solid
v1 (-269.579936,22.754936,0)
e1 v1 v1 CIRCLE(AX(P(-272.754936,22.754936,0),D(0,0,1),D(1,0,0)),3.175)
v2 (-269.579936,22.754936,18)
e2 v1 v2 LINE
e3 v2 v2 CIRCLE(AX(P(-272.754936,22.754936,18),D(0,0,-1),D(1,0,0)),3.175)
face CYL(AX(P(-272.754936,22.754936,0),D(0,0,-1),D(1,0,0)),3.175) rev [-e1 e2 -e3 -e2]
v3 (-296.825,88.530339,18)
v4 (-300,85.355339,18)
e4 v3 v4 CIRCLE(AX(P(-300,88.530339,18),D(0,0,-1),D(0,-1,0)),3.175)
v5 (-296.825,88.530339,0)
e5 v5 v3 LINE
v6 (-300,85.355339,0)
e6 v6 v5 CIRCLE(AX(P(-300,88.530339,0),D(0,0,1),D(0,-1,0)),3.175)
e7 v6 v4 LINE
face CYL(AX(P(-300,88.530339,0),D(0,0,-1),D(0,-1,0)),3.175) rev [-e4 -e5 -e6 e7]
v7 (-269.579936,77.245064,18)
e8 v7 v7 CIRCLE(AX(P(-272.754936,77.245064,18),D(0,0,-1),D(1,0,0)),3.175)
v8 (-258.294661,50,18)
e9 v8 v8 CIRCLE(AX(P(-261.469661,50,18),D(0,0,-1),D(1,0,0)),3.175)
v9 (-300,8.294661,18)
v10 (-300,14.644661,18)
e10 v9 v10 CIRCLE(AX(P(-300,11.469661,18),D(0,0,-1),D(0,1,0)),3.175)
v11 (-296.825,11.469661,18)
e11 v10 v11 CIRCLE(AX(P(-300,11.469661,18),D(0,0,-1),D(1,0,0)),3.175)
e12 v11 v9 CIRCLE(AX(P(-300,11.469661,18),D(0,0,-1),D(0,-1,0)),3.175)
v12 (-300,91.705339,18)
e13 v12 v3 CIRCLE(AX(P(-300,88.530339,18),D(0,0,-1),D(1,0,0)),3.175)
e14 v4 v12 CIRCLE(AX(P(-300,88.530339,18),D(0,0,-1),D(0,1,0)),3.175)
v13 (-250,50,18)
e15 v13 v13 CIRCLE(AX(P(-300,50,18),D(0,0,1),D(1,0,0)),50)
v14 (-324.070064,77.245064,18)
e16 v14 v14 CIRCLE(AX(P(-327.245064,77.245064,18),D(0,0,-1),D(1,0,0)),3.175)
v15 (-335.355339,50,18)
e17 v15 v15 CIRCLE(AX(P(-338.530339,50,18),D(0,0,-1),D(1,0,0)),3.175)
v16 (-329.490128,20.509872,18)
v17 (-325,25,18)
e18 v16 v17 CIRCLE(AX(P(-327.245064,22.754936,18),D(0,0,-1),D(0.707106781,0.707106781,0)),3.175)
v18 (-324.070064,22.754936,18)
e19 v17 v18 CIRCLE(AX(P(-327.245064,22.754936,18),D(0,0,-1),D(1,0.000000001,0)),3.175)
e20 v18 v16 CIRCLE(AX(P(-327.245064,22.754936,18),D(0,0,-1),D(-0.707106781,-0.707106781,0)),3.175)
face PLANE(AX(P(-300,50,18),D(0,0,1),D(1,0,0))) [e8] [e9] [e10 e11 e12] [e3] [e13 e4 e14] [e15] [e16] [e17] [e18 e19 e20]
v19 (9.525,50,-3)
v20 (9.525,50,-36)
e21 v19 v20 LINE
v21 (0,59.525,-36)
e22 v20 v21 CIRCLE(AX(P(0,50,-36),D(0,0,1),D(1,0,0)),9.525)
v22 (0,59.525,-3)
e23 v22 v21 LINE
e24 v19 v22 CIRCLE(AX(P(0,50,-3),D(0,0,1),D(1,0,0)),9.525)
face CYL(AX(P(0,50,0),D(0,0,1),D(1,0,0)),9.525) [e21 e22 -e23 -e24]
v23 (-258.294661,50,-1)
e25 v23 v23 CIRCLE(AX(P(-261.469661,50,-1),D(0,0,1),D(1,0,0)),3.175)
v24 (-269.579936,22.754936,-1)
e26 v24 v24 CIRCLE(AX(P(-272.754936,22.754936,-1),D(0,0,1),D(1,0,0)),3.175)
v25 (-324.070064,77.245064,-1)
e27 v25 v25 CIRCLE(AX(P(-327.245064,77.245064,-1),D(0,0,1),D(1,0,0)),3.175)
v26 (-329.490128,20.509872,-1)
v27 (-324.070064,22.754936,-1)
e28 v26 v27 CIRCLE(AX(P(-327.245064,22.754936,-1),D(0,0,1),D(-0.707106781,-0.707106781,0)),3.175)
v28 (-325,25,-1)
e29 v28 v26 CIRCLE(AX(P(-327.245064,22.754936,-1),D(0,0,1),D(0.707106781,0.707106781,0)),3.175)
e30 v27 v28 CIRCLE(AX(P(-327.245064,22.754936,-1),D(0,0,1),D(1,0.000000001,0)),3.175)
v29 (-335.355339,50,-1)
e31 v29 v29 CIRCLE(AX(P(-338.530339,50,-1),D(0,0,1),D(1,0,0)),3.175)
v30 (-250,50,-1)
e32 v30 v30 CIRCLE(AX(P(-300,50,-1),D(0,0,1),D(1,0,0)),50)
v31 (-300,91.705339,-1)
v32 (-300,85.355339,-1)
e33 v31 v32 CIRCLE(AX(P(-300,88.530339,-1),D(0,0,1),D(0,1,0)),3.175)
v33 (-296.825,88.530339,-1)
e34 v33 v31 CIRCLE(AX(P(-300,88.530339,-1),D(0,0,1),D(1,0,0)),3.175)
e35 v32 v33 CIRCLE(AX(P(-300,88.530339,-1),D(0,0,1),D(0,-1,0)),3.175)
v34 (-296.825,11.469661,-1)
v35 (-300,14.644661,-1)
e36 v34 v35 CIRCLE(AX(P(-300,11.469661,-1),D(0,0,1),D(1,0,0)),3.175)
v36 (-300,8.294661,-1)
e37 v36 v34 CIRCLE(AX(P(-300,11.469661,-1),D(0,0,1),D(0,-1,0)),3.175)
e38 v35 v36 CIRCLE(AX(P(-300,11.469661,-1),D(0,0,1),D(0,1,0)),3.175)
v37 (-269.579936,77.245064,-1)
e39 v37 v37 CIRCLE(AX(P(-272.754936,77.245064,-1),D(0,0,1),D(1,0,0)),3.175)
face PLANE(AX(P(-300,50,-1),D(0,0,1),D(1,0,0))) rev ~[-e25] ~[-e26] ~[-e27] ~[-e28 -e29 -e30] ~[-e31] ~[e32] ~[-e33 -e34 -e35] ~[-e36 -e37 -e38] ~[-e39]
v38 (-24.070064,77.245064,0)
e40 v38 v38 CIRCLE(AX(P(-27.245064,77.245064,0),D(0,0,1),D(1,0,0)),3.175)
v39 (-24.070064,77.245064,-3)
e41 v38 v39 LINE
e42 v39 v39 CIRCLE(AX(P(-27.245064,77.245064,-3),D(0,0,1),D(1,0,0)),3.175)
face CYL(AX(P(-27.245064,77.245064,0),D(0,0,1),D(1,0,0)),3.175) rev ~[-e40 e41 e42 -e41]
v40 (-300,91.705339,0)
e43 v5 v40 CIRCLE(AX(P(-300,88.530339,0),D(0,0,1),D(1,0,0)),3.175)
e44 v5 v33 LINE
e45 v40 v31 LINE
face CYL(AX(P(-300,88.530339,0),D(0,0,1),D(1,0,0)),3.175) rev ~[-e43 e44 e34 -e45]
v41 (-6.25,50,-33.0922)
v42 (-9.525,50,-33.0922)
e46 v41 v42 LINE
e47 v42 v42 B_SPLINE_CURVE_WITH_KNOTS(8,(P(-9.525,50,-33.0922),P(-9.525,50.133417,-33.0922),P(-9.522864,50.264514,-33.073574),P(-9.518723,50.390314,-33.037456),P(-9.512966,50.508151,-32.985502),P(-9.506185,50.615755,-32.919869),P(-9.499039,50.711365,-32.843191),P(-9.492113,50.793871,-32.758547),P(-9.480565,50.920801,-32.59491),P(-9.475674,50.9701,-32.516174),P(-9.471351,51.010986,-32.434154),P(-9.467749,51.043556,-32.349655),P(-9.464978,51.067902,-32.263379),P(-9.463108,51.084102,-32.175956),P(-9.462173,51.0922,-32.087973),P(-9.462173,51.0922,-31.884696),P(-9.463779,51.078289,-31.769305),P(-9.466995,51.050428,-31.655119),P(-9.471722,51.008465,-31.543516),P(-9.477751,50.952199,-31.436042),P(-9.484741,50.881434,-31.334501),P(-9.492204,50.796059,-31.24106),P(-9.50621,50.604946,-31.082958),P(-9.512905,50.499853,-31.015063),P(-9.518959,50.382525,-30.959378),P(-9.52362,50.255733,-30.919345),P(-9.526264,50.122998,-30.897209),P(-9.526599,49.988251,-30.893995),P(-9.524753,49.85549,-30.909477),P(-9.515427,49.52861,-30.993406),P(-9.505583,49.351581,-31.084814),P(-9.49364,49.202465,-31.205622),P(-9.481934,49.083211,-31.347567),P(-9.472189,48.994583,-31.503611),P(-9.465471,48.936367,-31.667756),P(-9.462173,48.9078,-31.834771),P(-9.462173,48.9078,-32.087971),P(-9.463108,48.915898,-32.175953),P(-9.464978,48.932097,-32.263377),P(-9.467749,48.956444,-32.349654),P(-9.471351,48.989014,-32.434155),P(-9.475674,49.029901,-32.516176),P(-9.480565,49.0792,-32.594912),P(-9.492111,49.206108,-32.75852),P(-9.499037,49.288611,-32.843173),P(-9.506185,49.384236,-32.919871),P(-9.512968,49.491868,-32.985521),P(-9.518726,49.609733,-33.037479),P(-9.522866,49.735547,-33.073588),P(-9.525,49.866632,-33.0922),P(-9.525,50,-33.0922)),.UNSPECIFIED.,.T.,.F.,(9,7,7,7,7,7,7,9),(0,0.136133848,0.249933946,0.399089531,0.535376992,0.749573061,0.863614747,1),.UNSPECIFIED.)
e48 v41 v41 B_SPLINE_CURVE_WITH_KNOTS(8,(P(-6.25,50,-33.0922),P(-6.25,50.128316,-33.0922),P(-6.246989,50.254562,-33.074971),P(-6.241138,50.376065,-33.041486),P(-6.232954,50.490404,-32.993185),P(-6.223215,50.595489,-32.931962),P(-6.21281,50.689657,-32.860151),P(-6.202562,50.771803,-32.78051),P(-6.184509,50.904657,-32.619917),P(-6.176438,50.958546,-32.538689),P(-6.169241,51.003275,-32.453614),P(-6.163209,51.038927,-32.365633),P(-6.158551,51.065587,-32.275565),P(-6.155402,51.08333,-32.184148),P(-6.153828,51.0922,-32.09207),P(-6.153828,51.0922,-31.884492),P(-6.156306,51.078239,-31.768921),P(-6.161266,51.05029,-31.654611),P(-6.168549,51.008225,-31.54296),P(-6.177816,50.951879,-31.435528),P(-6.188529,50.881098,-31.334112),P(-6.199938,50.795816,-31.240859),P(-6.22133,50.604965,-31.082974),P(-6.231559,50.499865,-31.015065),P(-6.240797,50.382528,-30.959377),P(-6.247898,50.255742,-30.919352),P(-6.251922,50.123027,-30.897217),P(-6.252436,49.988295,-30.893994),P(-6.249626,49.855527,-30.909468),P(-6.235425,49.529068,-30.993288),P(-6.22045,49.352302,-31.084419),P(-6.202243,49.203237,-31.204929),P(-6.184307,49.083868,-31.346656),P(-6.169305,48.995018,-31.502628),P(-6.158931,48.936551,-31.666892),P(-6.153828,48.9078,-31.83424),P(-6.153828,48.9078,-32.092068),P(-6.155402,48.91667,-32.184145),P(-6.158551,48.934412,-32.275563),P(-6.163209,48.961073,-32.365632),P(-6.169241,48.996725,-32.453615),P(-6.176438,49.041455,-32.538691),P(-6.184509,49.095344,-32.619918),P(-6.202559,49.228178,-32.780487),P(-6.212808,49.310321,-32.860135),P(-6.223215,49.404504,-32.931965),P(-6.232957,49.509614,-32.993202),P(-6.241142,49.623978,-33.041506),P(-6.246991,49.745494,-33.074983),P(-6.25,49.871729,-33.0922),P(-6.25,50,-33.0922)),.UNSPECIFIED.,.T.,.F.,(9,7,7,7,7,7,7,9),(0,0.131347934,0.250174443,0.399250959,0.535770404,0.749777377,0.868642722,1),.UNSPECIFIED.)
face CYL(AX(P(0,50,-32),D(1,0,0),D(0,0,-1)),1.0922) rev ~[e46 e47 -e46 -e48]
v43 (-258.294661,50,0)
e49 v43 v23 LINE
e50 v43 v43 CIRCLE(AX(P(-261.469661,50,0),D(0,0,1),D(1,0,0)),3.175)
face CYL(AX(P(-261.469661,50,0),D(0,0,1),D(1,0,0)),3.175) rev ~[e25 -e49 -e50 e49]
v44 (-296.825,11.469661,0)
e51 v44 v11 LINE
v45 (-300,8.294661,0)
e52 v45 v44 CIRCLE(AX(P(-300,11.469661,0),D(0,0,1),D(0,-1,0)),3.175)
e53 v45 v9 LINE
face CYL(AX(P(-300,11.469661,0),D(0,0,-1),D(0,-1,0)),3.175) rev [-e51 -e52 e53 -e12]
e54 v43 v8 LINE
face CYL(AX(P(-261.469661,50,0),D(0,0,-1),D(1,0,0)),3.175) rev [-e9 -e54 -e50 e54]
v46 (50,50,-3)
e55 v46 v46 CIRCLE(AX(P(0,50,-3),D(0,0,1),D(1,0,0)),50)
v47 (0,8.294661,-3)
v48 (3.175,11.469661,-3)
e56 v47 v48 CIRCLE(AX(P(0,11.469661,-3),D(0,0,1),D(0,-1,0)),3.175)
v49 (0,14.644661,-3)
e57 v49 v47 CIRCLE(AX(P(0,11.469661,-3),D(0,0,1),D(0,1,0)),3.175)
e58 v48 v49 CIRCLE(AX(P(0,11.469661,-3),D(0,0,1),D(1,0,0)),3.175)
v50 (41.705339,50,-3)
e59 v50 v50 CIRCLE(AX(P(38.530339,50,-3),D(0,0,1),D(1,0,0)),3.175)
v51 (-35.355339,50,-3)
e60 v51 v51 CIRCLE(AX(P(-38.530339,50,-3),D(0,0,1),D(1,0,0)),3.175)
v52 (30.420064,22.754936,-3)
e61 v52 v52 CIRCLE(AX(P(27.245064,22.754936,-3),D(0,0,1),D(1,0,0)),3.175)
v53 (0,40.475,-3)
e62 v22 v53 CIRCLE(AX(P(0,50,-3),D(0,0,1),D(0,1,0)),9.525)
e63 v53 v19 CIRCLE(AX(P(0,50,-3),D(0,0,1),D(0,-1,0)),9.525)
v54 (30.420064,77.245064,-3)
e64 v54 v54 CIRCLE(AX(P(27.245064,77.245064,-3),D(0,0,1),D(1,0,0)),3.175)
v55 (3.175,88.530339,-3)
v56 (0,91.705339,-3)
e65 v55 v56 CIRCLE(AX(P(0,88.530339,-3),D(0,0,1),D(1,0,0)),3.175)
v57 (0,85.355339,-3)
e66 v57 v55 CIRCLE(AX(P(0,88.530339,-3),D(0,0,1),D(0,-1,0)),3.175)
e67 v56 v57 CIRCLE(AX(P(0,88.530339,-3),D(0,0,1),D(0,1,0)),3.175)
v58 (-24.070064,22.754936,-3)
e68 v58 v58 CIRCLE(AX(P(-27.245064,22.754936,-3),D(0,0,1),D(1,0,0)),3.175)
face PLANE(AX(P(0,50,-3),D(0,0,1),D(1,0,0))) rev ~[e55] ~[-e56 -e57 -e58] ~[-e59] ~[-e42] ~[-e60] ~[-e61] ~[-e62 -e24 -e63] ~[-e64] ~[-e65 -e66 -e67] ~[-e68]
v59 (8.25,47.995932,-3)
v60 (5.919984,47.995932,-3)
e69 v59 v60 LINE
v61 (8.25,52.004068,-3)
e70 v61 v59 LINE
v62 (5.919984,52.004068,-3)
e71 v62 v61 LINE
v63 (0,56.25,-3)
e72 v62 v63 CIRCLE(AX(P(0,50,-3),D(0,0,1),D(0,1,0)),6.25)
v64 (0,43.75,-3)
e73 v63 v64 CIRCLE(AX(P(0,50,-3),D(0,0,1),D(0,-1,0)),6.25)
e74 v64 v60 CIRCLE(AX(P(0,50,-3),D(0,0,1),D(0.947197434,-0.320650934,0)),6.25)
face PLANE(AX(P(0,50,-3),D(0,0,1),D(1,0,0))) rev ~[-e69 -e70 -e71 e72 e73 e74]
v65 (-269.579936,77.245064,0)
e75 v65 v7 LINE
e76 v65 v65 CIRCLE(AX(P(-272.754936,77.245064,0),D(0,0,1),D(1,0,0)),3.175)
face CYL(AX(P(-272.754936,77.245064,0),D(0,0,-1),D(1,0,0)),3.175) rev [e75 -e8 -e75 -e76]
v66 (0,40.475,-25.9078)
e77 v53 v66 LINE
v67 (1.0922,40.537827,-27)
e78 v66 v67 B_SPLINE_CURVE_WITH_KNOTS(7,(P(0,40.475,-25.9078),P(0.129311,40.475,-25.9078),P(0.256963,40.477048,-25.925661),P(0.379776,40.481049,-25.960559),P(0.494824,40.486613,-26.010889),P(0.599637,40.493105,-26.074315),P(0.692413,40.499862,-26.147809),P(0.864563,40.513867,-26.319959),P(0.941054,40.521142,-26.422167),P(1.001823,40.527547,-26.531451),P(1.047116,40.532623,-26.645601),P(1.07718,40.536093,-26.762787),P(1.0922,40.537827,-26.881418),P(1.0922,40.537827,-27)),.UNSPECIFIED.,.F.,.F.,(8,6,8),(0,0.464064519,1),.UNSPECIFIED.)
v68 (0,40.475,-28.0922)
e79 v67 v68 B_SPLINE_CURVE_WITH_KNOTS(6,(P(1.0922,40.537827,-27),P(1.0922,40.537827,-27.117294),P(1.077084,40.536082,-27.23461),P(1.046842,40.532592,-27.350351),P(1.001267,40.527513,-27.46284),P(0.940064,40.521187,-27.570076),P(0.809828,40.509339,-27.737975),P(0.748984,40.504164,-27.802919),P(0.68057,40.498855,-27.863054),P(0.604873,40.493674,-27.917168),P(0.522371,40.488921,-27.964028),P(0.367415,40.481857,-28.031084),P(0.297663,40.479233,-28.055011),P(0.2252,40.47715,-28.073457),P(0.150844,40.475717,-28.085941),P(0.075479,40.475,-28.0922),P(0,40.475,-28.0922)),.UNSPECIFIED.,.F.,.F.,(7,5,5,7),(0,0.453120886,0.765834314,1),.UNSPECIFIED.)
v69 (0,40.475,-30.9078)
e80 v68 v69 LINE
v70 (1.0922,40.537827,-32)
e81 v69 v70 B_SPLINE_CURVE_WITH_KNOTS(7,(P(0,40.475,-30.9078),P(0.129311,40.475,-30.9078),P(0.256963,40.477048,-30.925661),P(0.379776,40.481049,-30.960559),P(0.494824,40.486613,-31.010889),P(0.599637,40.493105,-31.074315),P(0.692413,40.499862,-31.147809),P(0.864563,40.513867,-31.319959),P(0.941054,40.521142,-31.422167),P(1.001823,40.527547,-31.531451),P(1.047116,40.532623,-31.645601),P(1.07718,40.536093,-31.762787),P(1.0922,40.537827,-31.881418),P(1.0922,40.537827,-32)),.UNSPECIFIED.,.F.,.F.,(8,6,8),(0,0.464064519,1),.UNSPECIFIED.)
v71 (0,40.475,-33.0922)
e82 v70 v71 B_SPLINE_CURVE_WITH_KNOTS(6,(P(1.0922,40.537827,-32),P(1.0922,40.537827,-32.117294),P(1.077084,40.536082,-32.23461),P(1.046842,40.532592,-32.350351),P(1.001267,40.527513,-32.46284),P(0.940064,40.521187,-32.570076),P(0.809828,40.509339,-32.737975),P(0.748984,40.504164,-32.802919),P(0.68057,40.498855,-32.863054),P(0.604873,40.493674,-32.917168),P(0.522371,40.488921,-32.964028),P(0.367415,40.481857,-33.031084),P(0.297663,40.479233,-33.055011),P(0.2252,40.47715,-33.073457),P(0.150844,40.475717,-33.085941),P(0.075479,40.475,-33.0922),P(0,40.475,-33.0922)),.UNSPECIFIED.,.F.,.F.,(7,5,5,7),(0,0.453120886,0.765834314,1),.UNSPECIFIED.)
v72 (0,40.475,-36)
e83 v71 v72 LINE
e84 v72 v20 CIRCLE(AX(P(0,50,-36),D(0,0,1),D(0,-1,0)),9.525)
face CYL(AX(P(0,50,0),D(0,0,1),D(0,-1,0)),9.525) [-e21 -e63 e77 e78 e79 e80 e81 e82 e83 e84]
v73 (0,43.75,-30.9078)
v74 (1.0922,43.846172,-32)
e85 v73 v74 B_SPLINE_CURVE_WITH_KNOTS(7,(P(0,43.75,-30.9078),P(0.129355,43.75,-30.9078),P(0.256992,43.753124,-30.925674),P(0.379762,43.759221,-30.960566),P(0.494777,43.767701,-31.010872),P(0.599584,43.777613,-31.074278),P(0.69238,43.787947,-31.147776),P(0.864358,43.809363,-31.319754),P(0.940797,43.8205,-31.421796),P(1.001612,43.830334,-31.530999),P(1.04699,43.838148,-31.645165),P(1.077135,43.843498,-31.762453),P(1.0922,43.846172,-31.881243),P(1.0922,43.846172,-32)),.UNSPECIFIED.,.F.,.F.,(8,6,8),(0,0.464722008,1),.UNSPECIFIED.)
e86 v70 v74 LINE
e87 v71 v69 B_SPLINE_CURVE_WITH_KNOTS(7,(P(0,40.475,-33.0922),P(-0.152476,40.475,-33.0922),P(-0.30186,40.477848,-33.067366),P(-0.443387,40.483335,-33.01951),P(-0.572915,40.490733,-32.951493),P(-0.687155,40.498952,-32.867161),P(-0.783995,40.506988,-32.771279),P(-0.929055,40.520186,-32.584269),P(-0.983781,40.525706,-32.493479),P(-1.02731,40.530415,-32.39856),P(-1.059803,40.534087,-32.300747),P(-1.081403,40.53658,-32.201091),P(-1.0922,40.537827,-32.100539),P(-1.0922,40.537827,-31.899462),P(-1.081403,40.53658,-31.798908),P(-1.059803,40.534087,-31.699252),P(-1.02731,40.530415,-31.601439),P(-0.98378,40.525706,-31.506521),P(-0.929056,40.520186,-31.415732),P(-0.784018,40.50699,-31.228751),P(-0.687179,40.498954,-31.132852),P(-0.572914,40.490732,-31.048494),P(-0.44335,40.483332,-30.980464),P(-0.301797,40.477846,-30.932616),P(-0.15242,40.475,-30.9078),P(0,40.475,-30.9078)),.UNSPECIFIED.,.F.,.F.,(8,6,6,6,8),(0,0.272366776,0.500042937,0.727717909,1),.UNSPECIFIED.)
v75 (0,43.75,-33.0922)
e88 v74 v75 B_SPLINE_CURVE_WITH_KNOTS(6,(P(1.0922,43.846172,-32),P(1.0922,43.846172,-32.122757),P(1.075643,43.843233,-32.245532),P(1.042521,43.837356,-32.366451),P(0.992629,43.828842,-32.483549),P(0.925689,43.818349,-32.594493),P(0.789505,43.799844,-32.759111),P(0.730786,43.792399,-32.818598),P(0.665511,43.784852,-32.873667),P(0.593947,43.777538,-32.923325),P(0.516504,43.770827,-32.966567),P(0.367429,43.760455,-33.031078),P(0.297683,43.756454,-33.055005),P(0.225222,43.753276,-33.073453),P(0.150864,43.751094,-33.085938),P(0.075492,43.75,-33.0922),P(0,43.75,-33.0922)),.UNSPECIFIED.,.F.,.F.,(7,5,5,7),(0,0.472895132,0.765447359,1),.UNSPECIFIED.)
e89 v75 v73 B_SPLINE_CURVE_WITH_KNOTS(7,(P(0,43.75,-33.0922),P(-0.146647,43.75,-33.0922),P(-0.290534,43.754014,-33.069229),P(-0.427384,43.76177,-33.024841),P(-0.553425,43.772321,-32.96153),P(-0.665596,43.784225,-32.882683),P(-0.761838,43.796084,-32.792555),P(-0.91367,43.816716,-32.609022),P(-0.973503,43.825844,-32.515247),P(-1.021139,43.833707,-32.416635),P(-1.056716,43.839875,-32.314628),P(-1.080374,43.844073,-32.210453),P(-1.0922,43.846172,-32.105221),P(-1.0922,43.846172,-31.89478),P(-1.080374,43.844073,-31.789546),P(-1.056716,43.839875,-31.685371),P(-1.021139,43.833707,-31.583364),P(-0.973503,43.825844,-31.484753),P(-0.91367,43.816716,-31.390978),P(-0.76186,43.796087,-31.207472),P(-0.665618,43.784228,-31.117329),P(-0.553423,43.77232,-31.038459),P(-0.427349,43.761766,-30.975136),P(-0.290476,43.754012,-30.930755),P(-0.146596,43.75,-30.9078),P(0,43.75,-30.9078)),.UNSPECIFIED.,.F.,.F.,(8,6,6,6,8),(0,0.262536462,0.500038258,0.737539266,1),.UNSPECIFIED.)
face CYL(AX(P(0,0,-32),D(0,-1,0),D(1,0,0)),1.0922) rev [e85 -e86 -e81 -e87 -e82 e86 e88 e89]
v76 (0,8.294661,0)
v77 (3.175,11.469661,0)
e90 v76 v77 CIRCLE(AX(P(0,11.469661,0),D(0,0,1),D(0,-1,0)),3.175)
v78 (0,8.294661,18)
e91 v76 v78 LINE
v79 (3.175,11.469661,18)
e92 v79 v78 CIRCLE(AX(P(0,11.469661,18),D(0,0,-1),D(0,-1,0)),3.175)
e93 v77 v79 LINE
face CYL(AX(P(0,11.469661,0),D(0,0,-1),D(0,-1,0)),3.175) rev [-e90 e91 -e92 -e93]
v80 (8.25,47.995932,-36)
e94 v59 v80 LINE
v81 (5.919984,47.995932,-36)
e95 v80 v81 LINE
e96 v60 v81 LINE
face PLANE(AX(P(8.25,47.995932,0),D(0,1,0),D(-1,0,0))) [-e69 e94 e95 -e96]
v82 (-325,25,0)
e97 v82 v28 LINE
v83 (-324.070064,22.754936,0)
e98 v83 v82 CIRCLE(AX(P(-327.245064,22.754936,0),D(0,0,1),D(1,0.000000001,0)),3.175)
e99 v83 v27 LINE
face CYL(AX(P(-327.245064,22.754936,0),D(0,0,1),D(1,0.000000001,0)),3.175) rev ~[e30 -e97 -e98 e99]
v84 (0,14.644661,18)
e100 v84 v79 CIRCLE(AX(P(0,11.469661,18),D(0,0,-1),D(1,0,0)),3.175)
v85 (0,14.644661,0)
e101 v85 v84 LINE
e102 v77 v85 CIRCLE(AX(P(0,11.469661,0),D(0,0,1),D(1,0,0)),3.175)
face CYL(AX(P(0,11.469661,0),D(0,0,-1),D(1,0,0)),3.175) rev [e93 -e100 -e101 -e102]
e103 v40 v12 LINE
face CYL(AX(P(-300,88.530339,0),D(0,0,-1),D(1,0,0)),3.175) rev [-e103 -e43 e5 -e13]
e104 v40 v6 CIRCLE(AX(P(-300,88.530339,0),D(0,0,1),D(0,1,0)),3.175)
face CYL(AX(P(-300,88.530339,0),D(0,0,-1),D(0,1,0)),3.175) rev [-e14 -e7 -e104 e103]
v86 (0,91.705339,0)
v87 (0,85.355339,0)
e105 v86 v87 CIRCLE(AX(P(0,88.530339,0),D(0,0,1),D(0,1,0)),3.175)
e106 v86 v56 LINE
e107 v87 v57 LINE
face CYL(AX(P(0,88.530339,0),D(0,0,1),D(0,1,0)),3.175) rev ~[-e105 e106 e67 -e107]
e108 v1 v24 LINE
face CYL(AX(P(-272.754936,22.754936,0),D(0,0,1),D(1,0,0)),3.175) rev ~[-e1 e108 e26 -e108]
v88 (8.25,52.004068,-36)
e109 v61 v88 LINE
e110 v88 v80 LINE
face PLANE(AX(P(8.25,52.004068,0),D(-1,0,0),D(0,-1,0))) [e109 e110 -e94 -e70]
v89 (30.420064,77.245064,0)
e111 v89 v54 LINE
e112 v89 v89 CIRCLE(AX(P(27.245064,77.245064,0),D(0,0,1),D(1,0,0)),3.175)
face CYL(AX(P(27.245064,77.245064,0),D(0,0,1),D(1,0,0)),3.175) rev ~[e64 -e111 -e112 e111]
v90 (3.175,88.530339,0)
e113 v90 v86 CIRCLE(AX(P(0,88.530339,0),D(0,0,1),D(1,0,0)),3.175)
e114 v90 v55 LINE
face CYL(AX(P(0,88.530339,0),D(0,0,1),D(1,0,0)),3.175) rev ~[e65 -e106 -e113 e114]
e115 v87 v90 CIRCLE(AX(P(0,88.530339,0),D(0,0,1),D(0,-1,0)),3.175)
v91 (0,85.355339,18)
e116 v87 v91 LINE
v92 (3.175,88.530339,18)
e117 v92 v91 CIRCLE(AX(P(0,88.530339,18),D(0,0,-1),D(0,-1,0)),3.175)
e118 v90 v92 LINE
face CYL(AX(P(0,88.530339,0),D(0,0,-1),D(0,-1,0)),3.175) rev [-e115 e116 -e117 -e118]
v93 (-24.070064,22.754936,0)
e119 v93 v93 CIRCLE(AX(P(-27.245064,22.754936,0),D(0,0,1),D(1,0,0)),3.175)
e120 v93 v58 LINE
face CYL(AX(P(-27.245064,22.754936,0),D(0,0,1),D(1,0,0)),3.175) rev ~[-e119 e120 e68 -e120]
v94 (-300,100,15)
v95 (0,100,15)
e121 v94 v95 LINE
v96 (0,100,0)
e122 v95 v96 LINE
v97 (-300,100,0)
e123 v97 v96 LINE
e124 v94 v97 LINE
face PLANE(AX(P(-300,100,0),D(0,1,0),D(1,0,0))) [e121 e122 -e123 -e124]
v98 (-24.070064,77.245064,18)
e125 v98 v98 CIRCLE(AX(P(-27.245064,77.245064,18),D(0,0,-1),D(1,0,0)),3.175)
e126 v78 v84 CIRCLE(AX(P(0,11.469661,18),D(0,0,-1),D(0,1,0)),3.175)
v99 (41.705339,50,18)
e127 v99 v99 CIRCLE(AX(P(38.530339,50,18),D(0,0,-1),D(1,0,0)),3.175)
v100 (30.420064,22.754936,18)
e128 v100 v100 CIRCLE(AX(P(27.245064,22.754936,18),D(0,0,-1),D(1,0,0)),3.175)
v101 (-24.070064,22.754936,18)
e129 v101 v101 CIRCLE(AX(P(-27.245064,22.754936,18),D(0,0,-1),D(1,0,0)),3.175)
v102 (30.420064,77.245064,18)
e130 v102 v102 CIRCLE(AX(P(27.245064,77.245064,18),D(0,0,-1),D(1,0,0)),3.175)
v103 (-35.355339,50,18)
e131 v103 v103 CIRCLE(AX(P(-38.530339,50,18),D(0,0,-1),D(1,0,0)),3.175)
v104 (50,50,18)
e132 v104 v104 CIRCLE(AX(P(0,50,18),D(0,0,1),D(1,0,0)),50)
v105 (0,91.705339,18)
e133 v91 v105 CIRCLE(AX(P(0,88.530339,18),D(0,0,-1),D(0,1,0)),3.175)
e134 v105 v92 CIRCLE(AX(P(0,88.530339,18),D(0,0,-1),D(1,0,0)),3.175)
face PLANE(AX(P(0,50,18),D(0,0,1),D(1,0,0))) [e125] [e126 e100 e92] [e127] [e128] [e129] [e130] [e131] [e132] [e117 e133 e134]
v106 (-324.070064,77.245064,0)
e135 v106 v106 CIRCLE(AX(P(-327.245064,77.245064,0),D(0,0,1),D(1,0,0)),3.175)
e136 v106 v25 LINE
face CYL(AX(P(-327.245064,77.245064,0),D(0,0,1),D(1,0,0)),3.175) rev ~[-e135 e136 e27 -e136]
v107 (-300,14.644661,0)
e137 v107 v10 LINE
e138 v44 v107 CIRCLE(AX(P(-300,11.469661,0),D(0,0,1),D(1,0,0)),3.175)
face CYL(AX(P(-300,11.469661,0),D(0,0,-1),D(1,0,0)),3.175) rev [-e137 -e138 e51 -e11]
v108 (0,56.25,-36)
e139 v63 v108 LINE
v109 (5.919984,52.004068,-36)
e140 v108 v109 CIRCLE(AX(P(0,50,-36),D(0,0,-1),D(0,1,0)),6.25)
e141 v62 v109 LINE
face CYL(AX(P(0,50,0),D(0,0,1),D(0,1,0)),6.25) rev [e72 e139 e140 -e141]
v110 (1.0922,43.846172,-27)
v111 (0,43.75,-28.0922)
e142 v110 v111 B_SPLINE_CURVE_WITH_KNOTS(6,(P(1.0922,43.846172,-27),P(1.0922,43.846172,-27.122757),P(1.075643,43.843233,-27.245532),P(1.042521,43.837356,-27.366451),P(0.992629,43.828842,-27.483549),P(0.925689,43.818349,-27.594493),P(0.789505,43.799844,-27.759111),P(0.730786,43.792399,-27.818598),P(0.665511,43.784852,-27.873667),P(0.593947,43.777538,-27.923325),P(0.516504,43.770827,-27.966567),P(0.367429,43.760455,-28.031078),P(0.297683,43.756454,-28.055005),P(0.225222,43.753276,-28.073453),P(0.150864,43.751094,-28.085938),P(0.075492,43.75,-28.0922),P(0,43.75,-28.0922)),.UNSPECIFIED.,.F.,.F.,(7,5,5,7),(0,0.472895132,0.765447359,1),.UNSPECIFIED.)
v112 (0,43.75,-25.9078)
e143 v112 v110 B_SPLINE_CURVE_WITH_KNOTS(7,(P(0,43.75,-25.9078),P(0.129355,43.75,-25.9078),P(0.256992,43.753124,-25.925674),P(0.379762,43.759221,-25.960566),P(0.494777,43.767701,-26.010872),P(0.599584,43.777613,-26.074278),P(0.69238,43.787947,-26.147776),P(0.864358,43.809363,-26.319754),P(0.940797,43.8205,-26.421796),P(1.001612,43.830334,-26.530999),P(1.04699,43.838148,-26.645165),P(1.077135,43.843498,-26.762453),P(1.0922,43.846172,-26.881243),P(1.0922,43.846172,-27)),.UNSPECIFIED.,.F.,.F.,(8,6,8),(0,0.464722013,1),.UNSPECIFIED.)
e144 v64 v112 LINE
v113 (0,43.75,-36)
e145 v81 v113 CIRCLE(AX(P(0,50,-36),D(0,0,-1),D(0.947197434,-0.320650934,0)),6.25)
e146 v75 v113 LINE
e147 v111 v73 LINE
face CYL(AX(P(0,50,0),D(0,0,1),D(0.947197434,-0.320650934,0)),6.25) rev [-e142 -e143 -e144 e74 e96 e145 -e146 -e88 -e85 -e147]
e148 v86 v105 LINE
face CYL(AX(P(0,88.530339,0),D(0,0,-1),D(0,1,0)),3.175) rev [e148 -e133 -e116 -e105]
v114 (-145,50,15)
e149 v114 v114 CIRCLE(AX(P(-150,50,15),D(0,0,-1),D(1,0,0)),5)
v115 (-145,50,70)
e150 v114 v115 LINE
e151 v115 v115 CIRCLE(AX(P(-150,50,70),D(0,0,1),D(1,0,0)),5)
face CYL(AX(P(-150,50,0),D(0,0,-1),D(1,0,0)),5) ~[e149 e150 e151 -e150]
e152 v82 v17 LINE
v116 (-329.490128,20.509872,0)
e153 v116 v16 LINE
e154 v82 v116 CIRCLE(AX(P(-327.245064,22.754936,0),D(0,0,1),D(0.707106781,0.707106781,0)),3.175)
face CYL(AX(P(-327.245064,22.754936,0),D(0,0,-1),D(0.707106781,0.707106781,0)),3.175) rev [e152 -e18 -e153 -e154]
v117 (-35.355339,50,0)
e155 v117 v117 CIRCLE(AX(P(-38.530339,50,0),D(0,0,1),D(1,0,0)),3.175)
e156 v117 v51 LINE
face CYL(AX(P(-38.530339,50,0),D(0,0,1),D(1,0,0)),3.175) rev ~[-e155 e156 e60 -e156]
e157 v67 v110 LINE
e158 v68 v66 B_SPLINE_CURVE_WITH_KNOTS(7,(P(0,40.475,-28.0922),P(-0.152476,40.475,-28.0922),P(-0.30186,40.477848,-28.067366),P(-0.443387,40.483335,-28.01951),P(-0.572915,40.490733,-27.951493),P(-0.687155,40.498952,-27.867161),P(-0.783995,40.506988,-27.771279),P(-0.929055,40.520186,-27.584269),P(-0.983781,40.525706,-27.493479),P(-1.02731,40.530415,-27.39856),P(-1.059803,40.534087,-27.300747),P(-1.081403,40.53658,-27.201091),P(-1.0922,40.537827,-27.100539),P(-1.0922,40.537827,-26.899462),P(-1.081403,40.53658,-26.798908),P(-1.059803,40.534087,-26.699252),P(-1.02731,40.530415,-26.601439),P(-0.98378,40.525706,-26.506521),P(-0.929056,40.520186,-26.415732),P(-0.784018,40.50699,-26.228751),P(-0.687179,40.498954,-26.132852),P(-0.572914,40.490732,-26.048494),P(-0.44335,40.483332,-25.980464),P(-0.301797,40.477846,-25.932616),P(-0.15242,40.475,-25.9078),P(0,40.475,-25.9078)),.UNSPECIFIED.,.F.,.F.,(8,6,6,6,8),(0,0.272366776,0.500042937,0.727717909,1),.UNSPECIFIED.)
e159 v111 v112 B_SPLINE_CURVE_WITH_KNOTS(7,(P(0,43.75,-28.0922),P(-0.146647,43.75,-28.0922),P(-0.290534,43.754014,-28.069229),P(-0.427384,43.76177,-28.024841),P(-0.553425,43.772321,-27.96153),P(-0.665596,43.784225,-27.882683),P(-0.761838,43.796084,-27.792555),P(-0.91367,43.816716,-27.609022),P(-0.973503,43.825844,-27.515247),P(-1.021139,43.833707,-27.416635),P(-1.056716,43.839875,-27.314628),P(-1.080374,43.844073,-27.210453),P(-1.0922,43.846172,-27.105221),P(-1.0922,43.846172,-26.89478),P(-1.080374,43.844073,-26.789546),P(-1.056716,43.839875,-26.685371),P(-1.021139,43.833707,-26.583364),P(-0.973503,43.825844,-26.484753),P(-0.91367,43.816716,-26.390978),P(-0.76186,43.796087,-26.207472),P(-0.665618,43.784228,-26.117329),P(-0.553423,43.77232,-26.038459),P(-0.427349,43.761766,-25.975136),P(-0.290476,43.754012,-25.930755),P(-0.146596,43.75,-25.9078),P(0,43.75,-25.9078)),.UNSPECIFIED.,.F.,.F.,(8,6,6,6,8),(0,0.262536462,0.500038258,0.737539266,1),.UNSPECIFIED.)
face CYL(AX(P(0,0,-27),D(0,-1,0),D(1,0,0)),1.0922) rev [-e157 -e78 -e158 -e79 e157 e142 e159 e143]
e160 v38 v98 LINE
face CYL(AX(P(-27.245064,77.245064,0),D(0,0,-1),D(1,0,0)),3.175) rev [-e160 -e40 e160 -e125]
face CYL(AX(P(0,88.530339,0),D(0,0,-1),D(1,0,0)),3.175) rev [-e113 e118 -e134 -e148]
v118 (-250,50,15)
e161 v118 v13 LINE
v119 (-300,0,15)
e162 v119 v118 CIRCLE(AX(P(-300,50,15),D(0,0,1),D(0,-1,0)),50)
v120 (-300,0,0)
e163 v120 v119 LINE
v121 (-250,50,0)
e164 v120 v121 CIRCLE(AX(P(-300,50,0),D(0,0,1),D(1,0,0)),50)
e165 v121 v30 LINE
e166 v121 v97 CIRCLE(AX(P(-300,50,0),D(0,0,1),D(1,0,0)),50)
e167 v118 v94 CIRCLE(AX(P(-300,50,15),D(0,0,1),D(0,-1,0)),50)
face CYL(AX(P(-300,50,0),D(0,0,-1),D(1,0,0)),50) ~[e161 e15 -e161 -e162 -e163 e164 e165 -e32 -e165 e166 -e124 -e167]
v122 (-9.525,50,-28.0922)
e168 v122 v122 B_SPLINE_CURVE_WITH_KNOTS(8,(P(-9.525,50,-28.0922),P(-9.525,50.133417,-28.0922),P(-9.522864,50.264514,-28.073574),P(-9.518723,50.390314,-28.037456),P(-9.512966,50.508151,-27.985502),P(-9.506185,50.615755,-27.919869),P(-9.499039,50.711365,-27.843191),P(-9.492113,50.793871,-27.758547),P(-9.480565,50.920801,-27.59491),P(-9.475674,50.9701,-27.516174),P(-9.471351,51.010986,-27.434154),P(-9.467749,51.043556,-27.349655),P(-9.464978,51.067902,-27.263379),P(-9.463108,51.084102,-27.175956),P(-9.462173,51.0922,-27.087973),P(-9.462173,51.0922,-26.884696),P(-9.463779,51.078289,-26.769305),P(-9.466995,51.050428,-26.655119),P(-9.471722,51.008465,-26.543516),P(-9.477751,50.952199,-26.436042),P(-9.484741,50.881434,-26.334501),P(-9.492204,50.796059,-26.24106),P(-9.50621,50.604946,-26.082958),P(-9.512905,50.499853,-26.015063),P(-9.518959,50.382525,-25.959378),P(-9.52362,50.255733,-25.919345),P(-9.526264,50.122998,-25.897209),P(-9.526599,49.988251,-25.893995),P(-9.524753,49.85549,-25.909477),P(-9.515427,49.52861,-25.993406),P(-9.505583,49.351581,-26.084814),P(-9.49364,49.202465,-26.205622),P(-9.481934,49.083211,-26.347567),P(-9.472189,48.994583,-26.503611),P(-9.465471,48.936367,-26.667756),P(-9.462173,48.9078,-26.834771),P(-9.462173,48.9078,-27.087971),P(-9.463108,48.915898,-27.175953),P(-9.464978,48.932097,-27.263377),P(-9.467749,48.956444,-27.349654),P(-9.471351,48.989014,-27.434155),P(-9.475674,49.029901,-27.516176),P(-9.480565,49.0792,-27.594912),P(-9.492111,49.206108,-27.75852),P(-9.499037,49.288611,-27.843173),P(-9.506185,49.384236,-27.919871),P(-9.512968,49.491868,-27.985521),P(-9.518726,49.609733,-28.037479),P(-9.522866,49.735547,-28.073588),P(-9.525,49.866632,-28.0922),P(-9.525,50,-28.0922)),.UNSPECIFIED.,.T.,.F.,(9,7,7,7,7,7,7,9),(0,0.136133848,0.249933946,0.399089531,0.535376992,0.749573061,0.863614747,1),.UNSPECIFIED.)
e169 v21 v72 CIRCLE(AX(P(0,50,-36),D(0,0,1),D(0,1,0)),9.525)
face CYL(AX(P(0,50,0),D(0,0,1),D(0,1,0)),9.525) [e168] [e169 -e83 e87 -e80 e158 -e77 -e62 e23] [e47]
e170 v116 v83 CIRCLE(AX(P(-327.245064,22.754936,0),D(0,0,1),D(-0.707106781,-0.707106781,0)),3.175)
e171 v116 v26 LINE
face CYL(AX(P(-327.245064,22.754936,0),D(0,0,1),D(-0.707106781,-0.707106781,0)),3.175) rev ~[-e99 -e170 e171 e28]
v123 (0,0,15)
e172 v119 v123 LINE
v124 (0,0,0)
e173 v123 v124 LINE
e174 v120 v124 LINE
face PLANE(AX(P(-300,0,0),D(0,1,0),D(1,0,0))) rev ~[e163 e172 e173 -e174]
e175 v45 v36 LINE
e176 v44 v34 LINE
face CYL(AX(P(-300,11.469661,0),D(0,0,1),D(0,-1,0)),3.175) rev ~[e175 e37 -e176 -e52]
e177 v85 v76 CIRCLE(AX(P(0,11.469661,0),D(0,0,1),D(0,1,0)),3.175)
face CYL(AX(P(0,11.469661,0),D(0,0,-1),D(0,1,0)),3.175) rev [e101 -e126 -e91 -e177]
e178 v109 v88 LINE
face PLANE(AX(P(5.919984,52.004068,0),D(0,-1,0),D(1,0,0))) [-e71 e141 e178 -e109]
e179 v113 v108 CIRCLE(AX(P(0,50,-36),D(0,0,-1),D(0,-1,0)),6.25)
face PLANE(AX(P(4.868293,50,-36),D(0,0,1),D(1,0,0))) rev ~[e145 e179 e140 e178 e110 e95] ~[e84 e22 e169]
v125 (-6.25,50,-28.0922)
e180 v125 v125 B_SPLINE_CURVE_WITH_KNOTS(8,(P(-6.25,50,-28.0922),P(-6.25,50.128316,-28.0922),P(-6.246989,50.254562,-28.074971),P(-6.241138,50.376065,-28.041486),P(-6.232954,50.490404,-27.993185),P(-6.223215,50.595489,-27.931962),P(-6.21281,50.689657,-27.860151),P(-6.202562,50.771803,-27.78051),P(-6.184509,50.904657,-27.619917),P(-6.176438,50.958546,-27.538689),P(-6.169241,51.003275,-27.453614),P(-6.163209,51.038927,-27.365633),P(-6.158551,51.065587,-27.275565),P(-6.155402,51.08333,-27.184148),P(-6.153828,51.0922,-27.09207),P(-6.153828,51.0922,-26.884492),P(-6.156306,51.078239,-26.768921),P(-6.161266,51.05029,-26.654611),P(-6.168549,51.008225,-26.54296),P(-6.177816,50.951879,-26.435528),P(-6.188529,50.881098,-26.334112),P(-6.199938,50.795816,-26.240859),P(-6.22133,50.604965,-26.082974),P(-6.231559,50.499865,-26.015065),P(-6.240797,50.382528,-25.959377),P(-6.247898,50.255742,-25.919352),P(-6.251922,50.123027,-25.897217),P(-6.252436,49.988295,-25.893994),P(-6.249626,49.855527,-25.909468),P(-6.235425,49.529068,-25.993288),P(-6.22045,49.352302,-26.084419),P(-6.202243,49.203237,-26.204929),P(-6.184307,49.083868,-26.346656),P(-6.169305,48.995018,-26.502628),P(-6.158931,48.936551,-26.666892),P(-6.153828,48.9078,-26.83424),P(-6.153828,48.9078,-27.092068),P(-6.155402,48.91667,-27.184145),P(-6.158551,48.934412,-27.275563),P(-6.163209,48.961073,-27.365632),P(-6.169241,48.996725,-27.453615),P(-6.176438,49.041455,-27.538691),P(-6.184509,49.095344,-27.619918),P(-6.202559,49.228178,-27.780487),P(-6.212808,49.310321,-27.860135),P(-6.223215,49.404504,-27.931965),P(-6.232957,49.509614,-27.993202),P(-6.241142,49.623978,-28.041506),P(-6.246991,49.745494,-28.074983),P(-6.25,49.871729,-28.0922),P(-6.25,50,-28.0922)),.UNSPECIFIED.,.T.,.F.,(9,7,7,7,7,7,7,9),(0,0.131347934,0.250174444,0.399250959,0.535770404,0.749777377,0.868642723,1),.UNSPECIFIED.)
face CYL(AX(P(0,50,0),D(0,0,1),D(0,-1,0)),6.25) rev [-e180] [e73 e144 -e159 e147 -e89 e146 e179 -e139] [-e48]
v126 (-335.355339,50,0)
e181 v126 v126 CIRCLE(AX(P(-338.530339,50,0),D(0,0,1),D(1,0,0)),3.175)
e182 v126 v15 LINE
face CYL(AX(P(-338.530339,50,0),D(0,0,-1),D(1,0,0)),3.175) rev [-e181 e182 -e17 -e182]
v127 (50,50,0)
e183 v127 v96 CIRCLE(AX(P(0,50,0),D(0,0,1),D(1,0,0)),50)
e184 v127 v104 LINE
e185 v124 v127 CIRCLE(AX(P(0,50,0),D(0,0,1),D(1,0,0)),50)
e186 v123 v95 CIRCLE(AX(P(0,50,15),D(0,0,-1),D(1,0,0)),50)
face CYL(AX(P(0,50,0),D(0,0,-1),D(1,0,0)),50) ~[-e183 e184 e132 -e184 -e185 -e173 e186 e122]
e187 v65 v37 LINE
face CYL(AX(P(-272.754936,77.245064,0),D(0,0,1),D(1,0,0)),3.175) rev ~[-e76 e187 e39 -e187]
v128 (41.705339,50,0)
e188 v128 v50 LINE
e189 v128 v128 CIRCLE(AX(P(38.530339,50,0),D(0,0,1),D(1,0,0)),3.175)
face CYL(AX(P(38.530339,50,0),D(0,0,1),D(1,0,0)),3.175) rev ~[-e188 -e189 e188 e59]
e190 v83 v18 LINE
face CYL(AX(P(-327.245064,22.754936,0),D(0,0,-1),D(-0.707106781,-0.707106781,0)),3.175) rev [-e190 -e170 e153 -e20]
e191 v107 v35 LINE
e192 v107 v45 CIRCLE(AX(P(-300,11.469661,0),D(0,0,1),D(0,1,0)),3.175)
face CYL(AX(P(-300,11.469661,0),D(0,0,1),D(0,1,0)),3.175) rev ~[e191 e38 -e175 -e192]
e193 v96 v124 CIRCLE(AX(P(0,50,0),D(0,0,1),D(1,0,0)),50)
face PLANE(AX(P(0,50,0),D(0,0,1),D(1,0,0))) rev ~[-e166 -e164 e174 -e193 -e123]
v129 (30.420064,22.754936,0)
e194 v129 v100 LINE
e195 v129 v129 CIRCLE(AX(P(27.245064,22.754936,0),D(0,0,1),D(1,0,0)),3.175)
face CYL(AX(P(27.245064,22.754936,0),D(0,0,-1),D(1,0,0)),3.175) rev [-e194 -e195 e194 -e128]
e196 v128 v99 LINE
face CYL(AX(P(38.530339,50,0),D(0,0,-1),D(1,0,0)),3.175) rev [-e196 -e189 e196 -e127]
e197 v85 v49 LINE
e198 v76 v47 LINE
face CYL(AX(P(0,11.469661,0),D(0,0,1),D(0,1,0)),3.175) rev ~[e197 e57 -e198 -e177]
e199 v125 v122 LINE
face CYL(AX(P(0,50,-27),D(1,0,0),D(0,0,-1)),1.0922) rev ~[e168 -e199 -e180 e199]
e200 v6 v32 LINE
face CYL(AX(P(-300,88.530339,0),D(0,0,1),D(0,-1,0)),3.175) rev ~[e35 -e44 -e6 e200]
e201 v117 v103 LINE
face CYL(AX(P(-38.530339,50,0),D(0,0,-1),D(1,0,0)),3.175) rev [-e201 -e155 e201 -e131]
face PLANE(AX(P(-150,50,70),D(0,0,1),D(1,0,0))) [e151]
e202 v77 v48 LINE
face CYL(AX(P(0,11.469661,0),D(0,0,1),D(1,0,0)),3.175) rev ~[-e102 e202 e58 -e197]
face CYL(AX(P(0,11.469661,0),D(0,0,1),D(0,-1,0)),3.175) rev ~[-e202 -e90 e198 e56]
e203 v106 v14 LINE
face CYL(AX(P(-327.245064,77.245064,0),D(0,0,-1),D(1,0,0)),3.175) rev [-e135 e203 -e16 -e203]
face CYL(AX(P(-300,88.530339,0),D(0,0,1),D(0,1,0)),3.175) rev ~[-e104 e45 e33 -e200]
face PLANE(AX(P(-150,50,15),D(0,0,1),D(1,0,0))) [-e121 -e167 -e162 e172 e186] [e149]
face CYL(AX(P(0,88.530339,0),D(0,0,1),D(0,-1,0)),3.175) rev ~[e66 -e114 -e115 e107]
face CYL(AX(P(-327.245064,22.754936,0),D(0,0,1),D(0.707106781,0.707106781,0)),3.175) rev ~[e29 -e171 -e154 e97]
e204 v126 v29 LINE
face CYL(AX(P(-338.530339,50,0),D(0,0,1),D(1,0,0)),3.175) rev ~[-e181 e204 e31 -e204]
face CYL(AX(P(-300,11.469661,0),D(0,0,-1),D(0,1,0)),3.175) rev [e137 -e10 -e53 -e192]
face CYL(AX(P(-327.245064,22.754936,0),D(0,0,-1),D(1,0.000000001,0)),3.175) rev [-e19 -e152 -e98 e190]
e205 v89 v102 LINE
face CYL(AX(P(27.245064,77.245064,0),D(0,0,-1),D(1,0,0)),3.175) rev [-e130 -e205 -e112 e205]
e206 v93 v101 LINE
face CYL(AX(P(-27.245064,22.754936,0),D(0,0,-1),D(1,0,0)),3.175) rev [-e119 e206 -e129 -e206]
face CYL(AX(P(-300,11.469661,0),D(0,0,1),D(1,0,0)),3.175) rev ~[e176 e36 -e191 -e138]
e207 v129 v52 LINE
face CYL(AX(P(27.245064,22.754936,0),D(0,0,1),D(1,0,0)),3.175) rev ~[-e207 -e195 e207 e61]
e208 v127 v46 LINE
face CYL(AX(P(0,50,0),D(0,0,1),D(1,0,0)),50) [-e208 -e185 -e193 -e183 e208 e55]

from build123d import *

# Parameters (mm, degrees)
SKETCH_1_R                         = 50
EXTRUDE_18_DEPTH                   = 13
EXTRUDE_18_2_DEPTH                 = 13
SKETCH_1_28_W                      = 300
SKETCH_1_28_H                      = 100
EXTRUDE_21_DEPTH                   = 15
SKETCH_1_30_R                      = 5
EXTRUDE_22_DEPTH                   = 70
SKETCH_1_31_R                      = 50
CUT_EXTRUDE_2_DEPTH                = 41
SKETCH_1_32_R                      = 50
EXTRUDE_23_DEPTH                   = 18
EXTRUDE_23_DEPTH_BACK              = 1
SKETCH_1_35_R                      = 3.175
CUT_EXTRUDE_5_DEPTH                = 130
CUT_EXTRUDE_5_DEPTH_BACK           = 69
SKETCH_1_36_R                      = 50
CUT_EXTRUDE_6_DEPTH                = 34
SKETCH_1_37_R                      = 50
EXTRUDE_24_DEPTH                   = 18
EXTRUDE_24_DEPTH_BACK              = 3
SKETCH_1_41_R                      = 3.175
CUT_EXTRUDE_7_DEPTH                = 87
CUT_EXTRUDE_7_DEPTH_BACK           = 98
THE_EXTENDED_SHAFT_CONNECTER_DEPTH = 36
SKETCH_3_R                         = 1.0922
CUT_EXTRUDE_8_DEPTH                = 31
SKETCH_5_R                         = 1.0922
SCREW_HOLES2_DEPTH                 = 47.995932


with BuildPart() as part:
    # 草图1 → 凸台-拉伸18 (new body)
    with BuildSketch(Plane.XY):
        with Locations((0, 50)):
            Circle(SKETCH_1_R)
    extrude(amount=EXTRUDE_18_DEPTH)



with BuildPart() as body_2:
    # 草图1 → Extrude 18 2 (new body)
    with BuildSketch(Plane.XY):
        with Locations((-300, 50)):
            Circle(SKETCH_1_R)
    extrude(amount=EXTRUDE_18_2_DEPTH)


with BuildPart() as part_1:
    add(part.part)

    add(body_2.part)  # 凸台-拉伸21 merges body 2
    # 草图1<28> → 凸台-拉伸21 (add)
    with BuildSketch(Plane.XY):
        with Locations((-150, 50)):
            Rectangle(SKETCH_1_28_W, SKETCH_1_28_H)
    extrude(amount=EXTRUDE_21_DEPTH)

    # 草图1<30> → 凸台-拉伸22 (add)
    with BuildSketch(Plane.XY):
        with Locations((-150, 50)):
            Circle(SKETCH_1_30_R)
    extrude(amount=EXTRUDE_22_DEPTH)

    # 草图1<31> → 切除-拉伸2 (cut)
    with BuildSketch(Plane.XY):
        with Locations((-300, 50)):
            Circle(SKETCH_1_31_R)
    extrude(amount=CUT_EXTRUDE_2_DEPTH, mode=Mode.SUBTRACT)

    # 草图1<32> → 凸台-拉伸23 (add, two sides)
    with BuildSketch(Plane.XY) as extrude_23_sk:
        with Locations((-300, 50)):
            Circle(SKETCH_1_32_R)
    extrude(amount=EXTRUDE_23_DEPTH)
    extrude(extrude_23_sk.sketch, amount=-EXTRUDE_23_DEPTH_BACK)

    # 草图1<35> → 切除-拉伸5 (cut, two sides)
    with BuildSketch(Plane.XY) as cut_extrude_5_sk:
        with Locations((-261.469660941, 50)):
            Circle(SKETCH_1_35_R)
    extrude(amount=CUT_EXTRUDE_5_DEPTH, mode=Mode.SUBTRACT)
    extrude(cut_extrude_5_sk.sketch, amount=-CUT_EXTRUDE_5_DEPTH_BACK, mode=Mode.SUBTRACT)

    # 草图1<36> → 切除-拉伸6 (cut)
    with BuildSketch(Plane.XY):
        with Locations((0, 50)):
            Circle(SKETCH_1_36_R)
    extrude(amount=CUT_EXTRUDE_6_DEPTH, mode=Mode.SUBTRACT)

    # 草图1<37> → 凸台-拉伸24 (add, two sides)
    with BuildSketch(Plane.XY) as extrude_24_sk:
        with Locations((0, 50)):
            Circle(SKETCH_1_37_R)
    extrude(amount=EXTRUDE_24_DEPTH)
    extrude(extrude_24_sk.sketch, amount=-EXTRUDE_24_DEPTH_BACK)

    # 草图1<41> → 切除-拉伸7 (cut, two sides)
    with BuildSketch(Plane.XY) as cut_extrude_7_sk:
        with Locations((-272.75493597, 77.24506403)):
            Circle(SKETCH_1_41_R)
        with BuildLine():
            ThreePointArc((-296.825, 88.530339059), (-297.75493597, 90.77540309), (-300, 91.705339059))
            Line((-300, 91.705339059), (-300, 85.355339059))
            ThreePointArc((-300, 85.355339059), (-297.75493597, 86.285275029), (-296.825, 88.530339059))
        make_face()
        with BuildLine():
            Line((-300, 85.355339059), (-300, 91.705339059))
            ThreePointArc((-300, 91.705339059), (-303.175, 88.530339059), (-300, 85.355339059))
        make_face()
        with Locations((-327.24506403, 77.24506403)):
            Circle(SKETCH_1_41_R)
        with Locations((-338.530339059, 50)):
            Circle(SKETCH_1_41_R)
        with BuildLine():
            ThreePointArc((-325, 25), (-329.490128061, 25), (-329.490128061, 20.509871939))
            Line((-329.490128061, 20.509871939), (-325, 25))
        make_face()
        with BuildLine():
            Line((-325, 25), (-329.490128061, 20.509871939))
            ThreePointArc((-329.490128061, 20.509871939), (-326.030044133, 19.821618454), (-324.07006403, 22.75493597))
            ThreePointArc((-324.07006403, 22.75493597), (-324.311746515, 23.969955867), (-325, 25))
        make_face()
        with BuildLine():
            ThreePointArc((-300, 14.644660941), (-303.175, 11.469660941), (-300, 8.294660941))
            Line((-300, 8.294660941), (-300, 14.644660941))
        make_face()
        with BuildLine():
            Line((-300, 14.644660941), (-300, 8.294660941))
            ThreePointArc((-300, 8.294660941), (-297.75493597, 9.22459691), (-296.825, 11.469660941))
            ThreePointArc((-296.825, 11.469660941), (-297.75493597, 13.714724971), (-300, 14.644660941))
        make_face()
        with Locations((-272.75493597, 22.75493597)):
            Circle(SKETCH_1_41_R)
        with BuildLine():
            ThreePointArc((-264.644660941, 50), (-261.469660941, 46.825), (-258.294660941, 50))
            Line((-258.294660941, 50), (-264.644660941, 50))
        make_face()
        with BuildLine():
            Line((-264.644660941, 50), (-258.294660941, 50))
            ThreePointArc((-258.294660941, 50), (-261.469660941, 53.175), (-264.644660941, 50))
        make_face()
        with Locations((-27.24506403, 22.75493597)):
            Circle(SKETCH_1_41_R)
        with Locations((-38.530339059, 50)):
            Circle(SKETCH_1_41_R)
        with Locations((-27.24506403, 77.24506403)):
            Circle(SKETCH_1_41_R)
        with BuildLine():
            ThreePointArc((3.175, 88.530339059), (2.24506403, 90.77540309), (0, 91.705339059))
            Line((0, 91.705339059), (0, 85.355339059))
            ThreePointArc((0, 85.355339059), (2.24506403, 86.285275029), (3.175, 88.530339059))
        make_face()
        with BuildLine():
            Line((0, 85.355339059), (0, 91.705339059))
            ThreePointArc((0, 91.705339059), (-3.175, 88.530339059), (0, 85.355339059))
        make_face()
        with Locations((27.24506403, 77.24506403)):
            Circle(SKETCH_1_41_R)
        with Locations((27.24506403, 22.75493597)):
            Circle(SKETCH_1_41_R)
        with Locations((38.530339059, 50)):
            Circle(SKETCH_1_41_R)
        with BuildLine():
            ThreePointArc((0, 14.644660941), (-3.175, 11.469660941), (0, 8.294660941))
            Line((0, 8.294660941), (0, 14.644660941))
        make_face()
        with BuildLine():
            Line((0, 14.644660941), (0, 8.294660941))
            ThreePointArc((0, 8.294660941), (2.24506403, 9.22459691), (3.175, 11.469660941))
            ThreePointArc((3.175, 11.469660941), (2.24506403, 13.714724971), (0, 14.644660941))
        make_face()
    extrude(amount=CUT_EXTRUDE_7_DEPTH, mode=Mode.SUBTRACT)
    extrude(cut_extrude_7_sk.sketch, amount=-CUT_EXTRUDE_7_DEPTH_BACK, mode=Mode.SUBTRACT)

    # 草图1<43> → the extended shaft connecter (add)
    with BuildSketch(Plane.XY):
        with BuildLine():
            Line((0, 43.75), (0, 40.475))
            ThreePointArc((0, 40.475), (6.735192091, 43.264807909), (9.525, 50))
            ThreePointArc((9.525, 50), (6.735192091, 56.735192091), (0, 59.525))
            Line((0, 59.525), (0, 56.25))
            ThreePointArc((0, 56.25), (3.642600233, 55.078775791), (5.919983963, 52.004068333))
            Line((5.919983963, 52.004068333), (6.25, 52.004068333))
            Line((6.25, 52.004068333), (8.25, 52.004068333))
            Line((8.25, 52.004068333), (8.25, 50))
            Line((8.25, 50), (8.25, 47.995931667))
            Line((8.25, 47.995931667), (6.25, 47.995931667))
            Line((6.25, 47.995931667), (5.919983963, 47.995931667))
            ThreePointArc((5.919983963, 47.995931667), (3.642600233, 44.921224209), (0, 43.75))
        make_face()
        with BuildLine():
            ThreePointArc((0, 59.525), (-9.525, 50), (0, 40.475))
            Line((0, 40.475), (0, 43.75))
            ThreePointArc((0, 43.75), (-6.25, 50), (0, 56.25))
            Line((0, 56.25), (0, 59.525))
        make_face()
    extrude(amount=-THE_EXTENDED_SHAFT_CONNECTER_DEPTH)

    # 草图3 → 切除-拉伸8 (cut)
    with BuildSketch(Plane(origin=(0, 0, 0), x_dir=(0, 0, -1), z_dir=(1, 0, 0))):
        with Locations((32, 50)):
            Circle(SKETCH_3_R)
        with Locations((27, 50)):
            Circle(SKETCH_3_R)
    extrude(amount=-CUT_EXTRUDE_8_DEPTH, mode=Mode.SUBTRACT)

    # 草图5 → screw_holes2 (cut)
    with BuildSketch(Plane(origin=(0, 0, 0), x_dir=(1, 0, 0), z_dir=(0, 1, 0))):
        with Locations((0, 32)):
            Circle(SKETCH_5_R)
        with Locations((0, 27)):
            Circle(SKETCH_5_R)
    extrude(amount=SCREW_HOLES2_DEPTH, mode=Mode.SUBTRACT)


solid = part_1.part
